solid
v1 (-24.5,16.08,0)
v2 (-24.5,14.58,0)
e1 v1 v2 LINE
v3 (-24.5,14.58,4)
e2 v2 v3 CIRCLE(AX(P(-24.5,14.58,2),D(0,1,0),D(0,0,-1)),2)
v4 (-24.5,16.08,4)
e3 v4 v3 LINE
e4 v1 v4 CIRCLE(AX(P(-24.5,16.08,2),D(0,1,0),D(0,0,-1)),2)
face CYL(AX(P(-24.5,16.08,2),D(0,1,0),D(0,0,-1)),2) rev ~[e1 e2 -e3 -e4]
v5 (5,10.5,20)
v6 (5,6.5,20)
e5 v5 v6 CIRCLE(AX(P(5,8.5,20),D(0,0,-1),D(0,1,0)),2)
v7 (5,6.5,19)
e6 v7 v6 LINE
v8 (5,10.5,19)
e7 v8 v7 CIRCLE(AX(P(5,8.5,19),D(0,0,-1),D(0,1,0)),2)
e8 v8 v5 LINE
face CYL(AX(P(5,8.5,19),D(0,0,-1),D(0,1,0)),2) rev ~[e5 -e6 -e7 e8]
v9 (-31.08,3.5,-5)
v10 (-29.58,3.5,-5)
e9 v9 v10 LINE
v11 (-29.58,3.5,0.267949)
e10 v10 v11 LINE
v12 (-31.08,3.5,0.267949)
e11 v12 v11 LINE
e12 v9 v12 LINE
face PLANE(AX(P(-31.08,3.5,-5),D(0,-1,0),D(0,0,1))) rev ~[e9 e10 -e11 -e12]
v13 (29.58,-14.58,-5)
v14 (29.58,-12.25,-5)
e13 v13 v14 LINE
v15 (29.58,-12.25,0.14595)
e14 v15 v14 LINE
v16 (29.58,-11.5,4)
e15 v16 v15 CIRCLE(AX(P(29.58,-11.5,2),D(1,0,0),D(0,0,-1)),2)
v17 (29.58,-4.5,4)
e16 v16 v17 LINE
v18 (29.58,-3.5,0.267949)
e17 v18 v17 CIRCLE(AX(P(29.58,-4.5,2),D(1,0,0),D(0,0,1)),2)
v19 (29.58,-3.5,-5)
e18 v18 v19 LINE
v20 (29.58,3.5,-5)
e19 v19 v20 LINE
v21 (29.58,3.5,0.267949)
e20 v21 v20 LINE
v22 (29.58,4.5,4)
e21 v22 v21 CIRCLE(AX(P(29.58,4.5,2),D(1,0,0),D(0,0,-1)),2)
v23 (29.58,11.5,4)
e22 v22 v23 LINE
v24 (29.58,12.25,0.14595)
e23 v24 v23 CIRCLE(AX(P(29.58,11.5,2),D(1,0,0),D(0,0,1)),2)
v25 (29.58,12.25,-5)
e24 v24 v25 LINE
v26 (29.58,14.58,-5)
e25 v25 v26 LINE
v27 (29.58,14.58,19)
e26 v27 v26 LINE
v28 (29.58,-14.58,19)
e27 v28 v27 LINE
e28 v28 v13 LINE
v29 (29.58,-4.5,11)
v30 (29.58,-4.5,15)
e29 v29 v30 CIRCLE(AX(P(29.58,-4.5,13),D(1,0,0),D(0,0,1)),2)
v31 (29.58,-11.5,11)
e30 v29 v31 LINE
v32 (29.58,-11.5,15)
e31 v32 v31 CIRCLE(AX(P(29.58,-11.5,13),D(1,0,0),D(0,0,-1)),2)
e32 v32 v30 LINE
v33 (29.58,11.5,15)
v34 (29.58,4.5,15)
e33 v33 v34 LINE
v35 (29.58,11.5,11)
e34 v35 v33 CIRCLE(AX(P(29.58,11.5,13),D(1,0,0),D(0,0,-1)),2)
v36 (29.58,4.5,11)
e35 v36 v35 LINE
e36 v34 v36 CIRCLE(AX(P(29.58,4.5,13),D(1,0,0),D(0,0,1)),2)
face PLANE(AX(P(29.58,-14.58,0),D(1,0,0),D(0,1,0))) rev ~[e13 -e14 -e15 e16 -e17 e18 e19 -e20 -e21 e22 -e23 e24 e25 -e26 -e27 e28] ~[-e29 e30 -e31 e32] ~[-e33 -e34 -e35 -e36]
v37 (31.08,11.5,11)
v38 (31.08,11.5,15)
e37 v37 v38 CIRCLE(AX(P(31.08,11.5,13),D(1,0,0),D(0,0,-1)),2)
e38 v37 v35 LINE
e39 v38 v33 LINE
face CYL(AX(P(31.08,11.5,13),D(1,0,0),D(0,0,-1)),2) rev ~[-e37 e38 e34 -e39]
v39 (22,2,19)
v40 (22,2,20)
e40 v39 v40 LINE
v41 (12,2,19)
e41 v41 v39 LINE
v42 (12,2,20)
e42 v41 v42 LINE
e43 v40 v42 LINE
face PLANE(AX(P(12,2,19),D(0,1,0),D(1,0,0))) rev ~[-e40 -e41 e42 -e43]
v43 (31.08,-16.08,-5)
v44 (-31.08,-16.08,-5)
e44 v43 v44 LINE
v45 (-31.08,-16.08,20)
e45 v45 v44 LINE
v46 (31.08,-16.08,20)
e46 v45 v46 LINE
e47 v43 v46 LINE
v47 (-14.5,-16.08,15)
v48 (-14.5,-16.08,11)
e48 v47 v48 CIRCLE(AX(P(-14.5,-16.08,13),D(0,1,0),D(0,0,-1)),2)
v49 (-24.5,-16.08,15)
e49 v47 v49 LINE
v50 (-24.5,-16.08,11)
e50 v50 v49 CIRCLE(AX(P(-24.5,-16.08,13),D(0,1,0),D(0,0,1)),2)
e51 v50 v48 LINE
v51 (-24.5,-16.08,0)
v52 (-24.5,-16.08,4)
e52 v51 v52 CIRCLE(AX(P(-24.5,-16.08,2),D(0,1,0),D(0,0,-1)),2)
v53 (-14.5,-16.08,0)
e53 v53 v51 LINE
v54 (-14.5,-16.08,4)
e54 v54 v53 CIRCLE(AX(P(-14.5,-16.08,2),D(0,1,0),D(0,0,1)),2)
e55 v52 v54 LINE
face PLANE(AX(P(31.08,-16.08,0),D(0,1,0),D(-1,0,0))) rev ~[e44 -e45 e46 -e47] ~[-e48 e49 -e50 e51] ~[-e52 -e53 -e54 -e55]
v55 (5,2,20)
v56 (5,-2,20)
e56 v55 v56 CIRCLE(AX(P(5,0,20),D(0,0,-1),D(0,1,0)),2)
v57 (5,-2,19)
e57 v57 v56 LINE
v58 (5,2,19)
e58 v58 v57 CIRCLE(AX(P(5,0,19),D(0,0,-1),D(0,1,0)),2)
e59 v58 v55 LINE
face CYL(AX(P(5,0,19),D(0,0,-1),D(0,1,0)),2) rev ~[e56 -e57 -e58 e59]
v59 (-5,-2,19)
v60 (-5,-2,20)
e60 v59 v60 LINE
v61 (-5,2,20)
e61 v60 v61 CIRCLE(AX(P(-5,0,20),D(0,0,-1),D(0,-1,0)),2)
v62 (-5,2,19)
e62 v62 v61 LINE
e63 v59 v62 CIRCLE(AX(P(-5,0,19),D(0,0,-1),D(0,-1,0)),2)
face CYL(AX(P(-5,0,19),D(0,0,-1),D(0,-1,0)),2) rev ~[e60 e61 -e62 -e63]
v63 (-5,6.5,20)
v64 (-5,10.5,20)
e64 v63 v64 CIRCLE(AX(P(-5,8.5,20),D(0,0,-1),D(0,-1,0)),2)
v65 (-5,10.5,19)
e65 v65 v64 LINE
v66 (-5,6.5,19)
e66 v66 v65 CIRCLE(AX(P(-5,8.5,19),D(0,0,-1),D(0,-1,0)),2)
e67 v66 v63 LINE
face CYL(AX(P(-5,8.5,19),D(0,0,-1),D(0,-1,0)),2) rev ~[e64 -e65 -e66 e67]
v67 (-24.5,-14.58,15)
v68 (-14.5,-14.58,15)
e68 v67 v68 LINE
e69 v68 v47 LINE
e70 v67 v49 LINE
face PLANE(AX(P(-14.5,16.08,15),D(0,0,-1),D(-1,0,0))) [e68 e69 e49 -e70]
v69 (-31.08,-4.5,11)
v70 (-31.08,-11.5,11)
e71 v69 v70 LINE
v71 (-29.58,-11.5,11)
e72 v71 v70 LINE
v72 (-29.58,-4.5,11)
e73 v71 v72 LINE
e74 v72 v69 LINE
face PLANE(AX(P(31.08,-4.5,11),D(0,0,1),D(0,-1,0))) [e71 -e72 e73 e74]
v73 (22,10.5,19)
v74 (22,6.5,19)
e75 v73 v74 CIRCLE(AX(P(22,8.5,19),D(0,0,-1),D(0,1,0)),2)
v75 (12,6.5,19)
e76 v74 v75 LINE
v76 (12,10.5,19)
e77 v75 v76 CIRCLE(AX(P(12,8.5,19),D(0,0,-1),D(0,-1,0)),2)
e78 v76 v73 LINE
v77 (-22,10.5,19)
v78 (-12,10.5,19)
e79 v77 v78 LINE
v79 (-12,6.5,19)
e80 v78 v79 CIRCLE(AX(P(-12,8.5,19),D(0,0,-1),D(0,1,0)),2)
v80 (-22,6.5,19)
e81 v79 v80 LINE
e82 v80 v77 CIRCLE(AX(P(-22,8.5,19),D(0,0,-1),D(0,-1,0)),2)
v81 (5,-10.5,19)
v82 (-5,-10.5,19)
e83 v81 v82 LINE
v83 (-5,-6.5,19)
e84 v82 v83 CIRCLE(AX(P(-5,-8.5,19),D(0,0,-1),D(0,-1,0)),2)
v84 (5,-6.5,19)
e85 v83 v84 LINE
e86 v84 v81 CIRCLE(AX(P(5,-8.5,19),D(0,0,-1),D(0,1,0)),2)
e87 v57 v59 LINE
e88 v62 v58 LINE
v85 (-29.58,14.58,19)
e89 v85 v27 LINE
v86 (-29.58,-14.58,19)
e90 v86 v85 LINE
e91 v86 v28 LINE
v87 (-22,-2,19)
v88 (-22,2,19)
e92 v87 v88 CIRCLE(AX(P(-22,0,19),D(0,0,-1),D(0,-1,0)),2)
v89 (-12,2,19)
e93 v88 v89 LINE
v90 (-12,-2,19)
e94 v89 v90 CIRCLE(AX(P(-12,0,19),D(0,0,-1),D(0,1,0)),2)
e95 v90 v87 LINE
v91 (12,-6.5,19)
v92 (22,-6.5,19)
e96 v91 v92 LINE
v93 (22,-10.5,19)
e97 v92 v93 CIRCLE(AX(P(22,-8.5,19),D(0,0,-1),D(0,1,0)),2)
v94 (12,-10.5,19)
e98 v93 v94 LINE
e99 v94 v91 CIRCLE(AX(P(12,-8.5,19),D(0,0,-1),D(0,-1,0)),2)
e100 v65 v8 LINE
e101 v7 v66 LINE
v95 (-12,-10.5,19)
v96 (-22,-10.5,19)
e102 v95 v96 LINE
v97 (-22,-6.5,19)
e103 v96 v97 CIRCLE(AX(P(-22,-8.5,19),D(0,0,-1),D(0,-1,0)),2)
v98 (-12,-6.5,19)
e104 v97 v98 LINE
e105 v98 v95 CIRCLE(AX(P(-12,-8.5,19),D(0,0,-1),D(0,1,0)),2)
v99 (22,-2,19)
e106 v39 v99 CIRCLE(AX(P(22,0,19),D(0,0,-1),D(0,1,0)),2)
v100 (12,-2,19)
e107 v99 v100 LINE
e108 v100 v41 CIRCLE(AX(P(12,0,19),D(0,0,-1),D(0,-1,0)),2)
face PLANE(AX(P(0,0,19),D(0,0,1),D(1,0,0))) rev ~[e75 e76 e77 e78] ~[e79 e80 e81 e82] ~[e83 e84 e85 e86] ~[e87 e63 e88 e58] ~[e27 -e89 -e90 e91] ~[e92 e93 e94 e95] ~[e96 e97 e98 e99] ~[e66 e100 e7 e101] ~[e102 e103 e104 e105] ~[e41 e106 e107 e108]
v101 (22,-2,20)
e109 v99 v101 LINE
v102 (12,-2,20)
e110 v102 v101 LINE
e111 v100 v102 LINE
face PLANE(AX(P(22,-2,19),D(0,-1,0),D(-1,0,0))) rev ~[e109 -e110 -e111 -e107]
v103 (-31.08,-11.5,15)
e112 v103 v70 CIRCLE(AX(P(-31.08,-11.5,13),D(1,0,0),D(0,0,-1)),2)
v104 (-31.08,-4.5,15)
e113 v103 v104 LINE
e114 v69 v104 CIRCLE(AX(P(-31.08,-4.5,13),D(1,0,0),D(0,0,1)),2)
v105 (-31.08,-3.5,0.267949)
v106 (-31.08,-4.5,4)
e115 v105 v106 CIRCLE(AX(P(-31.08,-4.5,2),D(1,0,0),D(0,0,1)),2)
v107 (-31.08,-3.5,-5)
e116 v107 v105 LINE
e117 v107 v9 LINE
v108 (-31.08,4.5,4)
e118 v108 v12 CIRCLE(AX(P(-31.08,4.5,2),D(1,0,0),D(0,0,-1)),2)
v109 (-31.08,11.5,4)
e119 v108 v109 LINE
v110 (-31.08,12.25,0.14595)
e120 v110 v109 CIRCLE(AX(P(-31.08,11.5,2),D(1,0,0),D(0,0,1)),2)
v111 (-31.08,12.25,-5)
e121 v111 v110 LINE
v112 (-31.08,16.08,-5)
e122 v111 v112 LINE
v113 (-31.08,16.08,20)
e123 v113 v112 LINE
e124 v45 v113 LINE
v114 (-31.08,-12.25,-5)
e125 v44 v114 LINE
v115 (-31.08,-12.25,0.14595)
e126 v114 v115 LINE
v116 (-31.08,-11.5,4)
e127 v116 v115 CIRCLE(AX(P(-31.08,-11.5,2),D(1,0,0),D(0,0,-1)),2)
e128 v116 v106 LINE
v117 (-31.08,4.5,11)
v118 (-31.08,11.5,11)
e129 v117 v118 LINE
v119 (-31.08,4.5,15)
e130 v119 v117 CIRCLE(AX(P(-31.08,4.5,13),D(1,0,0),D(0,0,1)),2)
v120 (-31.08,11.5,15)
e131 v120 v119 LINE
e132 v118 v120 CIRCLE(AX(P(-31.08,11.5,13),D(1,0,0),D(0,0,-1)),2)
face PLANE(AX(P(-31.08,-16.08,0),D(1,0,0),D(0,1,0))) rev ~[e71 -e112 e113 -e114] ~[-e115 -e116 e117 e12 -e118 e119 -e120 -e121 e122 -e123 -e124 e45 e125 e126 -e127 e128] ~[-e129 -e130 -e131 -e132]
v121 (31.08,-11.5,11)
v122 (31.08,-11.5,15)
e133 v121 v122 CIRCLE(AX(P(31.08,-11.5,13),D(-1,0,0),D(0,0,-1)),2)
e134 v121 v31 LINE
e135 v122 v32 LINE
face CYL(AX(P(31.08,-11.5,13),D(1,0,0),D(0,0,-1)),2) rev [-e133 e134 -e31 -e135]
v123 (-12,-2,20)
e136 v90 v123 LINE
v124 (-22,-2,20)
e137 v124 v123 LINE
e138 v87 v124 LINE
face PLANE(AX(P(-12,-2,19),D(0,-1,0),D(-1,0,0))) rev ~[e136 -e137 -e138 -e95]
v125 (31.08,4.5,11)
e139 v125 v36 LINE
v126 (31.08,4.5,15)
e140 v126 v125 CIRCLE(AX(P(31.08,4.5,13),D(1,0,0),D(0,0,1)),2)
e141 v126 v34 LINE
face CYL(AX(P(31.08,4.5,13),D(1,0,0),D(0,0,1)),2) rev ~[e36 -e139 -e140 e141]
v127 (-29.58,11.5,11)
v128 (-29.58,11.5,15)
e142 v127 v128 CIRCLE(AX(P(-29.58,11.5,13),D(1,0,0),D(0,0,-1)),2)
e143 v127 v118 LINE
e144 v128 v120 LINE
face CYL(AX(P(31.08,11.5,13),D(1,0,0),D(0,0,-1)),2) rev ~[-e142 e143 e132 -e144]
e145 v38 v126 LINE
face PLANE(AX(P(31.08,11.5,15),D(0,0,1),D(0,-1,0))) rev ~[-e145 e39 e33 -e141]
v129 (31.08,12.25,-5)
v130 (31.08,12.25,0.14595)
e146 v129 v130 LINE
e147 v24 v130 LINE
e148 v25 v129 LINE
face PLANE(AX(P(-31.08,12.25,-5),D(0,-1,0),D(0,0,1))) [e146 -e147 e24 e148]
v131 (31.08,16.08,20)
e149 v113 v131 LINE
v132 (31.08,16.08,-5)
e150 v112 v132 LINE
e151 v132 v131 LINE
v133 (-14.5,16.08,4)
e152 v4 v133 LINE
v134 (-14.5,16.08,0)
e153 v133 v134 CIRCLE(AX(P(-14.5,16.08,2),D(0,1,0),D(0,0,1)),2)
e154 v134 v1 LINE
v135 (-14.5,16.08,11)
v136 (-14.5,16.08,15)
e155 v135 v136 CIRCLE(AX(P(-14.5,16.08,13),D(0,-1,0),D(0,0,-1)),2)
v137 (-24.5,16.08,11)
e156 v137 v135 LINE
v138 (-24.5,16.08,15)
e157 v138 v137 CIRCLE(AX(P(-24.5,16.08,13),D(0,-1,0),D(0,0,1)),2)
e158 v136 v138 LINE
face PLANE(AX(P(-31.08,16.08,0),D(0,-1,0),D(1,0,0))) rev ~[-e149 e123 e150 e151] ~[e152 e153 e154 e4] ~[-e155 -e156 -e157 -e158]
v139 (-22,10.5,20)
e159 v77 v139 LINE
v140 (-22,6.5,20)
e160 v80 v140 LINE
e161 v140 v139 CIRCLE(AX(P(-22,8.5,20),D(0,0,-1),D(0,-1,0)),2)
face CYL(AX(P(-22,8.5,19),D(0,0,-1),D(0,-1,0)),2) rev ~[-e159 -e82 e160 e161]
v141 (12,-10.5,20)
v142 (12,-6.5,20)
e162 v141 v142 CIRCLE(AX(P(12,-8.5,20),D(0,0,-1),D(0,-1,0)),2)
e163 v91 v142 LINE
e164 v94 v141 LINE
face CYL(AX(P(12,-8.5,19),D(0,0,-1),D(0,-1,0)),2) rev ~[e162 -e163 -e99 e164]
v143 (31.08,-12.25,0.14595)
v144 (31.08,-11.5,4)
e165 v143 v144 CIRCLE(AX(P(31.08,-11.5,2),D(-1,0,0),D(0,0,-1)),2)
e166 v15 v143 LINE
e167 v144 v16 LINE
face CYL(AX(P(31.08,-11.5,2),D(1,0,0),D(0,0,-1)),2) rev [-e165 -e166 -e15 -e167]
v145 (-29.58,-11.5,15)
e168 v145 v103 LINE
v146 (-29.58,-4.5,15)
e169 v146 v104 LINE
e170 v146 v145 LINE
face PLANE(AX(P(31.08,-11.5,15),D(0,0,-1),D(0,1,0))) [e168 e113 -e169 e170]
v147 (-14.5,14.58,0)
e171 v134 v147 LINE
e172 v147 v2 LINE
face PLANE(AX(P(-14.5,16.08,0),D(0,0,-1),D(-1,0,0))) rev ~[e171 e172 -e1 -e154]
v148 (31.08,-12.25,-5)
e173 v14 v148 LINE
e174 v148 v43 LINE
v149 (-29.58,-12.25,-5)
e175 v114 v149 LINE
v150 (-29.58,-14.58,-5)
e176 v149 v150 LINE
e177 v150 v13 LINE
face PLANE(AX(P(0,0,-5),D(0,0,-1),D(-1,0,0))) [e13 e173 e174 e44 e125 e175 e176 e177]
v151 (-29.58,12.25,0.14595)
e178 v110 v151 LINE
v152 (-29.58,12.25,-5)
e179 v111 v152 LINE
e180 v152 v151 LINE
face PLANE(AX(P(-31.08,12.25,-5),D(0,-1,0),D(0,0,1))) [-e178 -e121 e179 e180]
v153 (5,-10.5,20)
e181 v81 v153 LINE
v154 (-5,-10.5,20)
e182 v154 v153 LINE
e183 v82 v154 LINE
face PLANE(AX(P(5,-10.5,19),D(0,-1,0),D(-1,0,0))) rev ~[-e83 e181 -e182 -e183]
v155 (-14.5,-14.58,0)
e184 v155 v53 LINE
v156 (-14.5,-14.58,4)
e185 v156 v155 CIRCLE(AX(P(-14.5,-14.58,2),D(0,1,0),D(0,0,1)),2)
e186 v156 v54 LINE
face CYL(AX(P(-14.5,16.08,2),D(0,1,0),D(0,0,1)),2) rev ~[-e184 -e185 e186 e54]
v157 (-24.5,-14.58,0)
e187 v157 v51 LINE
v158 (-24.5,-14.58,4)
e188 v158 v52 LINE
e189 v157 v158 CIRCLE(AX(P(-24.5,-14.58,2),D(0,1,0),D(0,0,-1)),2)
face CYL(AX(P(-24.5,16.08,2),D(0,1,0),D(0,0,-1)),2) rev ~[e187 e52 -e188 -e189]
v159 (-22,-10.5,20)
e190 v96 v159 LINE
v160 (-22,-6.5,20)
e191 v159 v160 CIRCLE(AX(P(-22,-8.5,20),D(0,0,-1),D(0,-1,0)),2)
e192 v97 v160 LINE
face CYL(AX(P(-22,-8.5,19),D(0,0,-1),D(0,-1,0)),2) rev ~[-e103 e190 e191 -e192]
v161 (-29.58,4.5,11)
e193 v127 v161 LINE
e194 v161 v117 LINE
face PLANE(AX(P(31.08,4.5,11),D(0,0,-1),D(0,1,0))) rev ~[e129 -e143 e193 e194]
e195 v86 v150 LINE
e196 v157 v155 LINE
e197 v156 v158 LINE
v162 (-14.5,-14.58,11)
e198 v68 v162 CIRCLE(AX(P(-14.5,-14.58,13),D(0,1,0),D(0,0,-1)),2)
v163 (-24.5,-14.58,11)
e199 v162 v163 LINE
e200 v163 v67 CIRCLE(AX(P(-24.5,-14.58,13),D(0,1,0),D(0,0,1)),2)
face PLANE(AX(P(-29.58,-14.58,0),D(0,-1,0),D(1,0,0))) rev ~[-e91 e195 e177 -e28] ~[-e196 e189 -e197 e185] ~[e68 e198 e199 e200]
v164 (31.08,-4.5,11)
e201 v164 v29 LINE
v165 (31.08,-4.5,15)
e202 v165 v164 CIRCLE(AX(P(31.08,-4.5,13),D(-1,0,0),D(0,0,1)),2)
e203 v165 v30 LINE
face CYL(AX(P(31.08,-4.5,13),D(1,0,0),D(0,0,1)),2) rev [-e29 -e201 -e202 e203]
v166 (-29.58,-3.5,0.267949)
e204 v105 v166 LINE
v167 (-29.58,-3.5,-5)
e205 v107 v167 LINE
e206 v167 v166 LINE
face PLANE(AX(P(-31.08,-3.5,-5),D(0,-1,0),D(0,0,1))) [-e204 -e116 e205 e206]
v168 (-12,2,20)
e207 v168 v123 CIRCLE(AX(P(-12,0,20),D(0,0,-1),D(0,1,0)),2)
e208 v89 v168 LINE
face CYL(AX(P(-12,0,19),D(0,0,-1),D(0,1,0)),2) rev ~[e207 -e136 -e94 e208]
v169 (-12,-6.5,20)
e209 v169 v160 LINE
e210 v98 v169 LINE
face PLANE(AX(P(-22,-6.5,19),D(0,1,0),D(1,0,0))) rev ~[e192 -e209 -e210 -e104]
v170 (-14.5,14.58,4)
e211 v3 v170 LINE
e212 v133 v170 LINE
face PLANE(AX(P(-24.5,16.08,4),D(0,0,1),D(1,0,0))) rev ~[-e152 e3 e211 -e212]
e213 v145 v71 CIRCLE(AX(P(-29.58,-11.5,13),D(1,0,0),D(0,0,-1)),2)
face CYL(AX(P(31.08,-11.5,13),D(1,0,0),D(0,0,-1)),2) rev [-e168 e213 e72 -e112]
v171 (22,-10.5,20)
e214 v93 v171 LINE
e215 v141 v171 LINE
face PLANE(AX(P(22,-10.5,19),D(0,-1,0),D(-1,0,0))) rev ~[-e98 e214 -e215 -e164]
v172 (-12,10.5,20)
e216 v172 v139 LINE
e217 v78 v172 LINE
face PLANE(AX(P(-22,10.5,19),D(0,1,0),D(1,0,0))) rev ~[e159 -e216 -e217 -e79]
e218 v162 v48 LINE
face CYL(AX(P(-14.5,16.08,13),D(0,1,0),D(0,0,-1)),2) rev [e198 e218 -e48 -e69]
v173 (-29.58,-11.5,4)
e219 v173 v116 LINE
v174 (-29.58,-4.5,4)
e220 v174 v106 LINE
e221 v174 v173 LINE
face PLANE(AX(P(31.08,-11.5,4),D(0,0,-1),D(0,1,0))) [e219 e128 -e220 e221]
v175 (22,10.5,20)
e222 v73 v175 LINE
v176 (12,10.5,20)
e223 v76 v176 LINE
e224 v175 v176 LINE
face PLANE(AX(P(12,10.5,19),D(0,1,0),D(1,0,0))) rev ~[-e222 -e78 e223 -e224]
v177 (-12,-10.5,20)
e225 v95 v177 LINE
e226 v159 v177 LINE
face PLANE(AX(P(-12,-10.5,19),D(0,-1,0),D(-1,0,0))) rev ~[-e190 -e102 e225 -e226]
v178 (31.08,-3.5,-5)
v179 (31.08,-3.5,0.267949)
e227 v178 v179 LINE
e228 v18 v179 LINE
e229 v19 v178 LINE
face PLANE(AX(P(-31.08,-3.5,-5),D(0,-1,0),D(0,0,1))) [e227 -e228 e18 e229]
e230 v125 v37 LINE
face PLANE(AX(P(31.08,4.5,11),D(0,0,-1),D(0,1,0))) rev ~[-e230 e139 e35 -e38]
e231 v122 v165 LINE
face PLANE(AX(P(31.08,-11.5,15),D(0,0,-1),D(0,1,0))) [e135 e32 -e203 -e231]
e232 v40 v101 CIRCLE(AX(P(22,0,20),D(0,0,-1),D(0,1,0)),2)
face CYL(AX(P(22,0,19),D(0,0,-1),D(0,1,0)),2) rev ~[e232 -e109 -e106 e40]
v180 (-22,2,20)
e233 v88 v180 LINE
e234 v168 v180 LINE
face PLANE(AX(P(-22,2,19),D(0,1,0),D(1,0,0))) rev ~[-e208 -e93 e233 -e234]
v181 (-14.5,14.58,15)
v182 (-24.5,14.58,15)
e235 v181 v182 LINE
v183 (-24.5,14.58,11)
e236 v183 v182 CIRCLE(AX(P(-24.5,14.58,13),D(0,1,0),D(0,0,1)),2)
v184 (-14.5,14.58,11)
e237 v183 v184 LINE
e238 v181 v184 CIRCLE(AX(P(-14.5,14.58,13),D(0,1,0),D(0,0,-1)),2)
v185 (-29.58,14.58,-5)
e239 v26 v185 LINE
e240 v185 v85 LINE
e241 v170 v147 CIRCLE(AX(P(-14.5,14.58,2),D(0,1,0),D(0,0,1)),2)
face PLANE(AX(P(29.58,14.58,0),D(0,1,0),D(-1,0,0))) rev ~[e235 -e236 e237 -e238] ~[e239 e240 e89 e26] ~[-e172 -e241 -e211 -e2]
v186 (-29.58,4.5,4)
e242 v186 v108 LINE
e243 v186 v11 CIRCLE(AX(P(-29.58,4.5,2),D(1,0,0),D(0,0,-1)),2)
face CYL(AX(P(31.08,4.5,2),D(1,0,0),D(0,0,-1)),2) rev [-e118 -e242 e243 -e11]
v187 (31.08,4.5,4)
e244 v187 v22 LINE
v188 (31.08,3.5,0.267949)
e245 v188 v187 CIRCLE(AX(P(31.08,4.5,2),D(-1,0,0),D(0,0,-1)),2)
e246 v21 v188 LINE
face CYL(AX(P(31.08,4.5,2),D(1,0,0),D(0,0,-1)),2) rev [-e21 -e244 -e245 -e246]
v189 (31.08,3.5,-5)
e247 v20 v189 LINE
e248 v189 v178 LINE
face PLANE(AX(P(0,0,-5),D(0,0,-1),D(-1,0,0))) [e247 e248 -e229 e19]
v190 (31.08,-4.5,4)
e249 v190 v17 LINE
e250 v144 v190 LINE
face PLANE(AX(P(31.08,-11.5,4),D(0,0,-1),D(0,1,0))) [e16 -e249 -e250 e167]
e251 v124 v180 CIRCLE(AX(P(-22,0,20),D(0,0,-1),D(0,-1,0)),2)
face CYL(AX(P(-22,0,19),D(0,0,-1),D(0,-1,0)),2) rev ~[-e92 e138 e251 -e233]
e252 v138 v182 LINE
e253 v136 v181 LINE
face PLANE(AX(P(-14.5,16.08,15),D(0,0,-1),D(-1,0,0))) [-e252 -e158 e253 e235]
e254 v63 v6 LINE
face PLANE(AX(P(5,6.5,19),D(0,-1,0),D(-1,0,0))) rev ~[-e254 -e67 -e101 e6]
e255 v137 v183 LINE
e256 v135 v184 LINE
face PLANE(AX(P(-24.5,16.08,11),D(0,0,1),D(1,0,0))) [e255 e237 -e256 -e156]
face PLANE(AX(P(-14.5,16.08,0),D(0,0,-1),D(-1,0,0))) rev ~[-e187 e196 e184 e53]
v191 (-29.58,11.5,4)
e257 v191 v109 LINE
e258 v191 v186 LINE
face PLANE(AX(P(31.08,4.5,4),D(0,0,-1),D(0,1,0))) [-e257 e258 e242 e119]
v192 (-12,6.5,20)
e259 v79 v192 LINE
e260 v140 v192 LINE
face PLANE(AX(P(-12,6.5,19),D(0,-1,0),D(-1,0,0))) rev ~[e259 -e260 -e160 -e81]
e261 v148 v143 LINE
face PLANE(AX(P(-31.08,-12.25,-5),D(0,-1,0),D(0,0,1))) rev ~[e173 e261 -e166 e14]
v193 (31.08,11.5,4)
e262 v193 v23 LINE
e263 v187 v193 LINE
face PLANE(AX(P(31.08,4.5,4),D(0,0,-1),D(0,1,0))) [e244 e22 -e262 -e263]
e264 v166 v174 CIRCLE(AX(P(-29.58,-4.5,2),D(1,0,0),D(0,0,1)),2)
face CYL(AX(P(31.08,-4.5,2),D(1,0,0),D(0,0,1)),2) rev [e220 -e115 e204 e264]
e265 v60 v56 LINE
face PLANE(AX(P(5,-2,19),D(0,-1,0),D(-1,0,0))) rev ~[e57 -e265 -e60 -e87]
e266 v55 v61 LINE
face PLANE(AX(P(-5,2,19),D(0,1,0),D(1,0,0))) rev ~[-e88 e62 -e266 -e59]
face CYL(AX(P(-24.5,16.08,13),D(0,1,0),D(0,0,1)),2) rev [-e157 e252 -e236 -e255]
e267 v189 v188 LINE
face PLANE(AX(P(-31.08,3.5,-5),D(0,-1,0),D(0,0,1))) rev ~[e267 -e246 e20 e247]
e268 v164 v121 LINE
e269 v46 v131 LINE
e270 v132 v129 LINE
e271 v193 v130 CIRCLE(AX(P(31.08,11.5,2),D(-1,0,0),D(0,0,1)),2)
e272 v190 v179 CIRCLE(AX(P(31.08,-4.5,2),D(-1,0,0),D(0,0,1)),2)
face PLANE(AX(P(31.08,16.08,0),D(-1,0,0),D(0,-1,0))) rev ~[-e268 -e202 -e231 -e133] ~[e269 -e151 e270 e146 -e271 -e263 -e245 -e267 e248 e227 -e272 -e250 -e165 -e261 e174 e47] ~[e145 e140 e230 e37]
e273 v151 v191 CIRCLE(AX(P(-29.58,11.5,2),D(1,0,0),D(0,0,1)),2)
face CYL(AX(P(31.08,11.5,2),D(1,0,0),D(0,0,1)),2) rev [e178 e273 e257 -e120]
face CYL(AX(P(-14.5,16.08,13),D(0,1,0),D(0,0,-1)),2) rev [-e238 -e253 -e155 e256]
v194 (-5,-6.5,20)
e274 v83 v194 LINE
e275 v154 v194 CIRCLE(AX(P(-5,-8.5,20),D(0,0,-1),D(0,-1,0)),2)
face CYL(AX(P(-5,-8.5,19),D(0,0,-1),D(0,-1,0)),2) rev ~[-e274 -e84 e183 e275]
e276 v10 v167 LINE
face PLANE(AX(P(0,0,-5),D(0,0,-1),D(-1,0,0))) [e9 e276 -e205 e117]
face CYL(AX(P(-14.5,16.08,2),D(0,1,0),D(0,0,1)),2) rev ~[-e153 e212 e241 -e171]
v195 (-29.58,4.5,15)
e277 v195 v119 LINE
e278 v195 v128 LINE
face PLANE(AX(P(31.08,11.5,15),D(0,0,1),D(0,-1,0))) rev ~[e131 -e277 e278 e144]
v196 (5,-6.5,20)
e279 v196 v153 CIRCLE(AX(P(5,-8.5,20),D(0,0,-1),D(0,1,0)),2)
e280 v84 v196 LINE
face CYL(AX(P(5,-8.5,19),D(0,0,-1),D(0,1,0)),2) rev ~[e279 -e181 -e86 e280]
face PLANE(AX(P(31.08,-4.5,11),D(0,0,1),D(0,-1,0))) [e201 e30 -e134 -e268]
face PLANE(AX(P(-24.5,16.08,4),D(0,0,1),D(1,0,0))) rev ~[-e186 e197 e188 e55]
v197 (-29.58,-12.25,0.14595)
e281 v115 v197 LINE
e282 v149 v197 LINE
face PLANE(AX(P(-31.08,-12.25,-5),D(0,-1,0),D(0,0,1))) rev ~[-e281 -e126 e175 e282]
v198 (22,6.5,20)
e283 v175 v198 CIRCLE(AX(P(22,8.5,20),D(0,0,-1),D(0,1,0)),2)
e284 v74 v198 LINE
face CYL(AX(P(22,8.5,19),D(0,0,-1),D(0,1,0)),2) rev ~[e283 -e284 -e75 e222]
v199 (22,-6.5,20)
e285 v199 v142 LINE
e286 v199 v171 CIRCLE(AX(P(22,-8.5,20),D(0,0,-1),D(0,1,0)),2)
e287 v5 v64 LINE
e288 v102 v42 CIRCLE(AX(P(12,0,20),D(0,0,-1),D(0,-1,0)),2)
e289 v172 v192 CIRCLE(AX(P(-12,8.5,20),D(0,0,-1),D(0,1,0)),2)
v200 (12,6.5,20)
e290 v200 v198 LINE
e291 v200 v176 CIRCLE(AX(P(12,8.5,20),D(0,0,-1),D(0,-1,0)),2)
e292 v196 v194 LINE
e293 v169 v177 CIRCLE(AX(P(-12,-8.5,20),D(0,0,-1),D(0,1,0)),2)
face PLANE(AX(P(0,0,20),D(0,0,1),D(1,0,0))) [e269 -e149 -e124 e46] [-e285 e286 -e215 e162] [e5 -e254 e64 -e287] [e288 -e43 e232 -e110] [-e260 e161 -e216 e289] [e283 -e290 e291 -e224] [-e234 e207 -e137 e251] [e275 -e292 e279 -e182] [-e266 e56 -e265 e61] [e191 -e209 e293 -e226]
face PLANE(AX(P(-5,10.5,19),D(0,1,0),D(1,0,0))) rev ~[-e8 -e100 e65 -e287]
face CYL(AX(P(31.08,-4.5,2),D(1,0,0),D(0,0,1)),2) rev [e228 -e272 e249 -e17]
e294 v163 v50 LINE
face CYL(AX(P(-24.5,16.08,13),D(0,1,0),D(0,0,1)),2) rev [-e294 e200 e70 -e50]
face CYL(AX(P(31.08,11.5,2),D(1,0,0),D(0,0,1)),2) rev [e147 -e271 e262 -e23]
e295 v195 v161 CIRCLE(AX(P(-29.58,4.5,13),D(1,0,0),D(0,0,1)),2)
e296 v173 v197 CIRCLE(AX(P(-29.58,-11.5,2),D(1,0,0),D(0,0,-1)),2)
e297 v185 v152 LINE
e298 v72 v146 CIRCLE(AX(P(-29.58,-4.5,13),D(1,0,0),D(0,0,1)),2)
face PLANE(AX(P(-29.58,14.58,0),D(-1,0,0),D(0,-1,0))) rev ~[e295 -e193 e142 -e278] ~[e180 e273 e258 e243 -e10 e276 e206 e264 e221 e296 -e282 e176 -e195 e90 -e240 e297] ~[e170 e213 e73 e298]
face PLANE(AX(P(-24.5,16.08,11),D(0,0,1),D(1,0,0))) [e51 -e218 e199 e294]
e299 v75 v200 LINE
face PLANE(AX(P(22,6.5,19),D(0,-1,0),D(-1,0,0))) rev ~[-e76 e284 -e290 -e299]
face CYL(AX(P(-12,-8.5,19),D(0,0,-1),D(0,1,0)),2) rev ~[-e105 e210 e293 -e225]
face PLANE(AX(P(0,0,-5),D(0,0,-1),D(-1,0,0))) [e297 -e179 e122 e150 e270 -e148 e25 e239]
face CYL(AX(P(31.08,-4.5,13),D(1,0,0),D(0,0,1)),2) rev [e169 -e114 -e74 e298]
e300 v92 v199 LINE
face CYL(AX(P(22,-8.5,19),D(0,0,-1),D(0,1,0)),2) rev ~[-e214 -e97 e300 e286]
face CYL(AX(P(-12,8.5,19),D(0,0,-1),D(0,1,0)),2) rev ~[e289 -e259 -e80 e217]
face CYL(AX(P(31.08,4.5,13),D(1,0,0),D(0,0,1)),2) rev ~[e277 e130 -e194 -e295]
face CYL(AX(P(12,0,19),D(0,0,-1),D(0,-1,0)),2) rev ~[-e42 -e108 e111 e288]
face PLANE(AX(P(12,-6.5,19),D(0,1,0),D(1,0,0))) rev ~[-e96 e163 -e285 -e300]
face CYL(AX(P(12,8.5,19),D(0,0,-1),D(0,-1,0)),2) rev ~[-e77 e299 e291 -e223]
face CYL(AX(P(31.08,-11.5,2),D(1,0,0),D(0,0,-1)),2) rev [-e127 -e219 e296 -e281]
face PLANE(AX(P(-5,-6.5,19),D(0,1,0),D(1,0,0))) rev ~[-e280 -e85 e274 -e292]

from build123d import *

# Parameters (mm, degrees)
SKETCH1_W           = 62.16
SKETCH1_H           = 32.16
SKETCH1_W_2         = 59.16
SKETCH1_H_2         = 29.16
BOSS_EXTRUDE1_DEPTH = 19
SKETCH2_W           = 62.16
SKETCH2_H           = 32.16
BOSS_EXTRUDE2_DEPTH = 1
BOSS_EXTRUDE3_DEPTH = 5
CUT_EXTRUDE4_DEPTH  = 2
CUT_EXTRUDE2_DEPTH  = 33.16
CUT_EXTRUDE3_DEPTH  = 63.16
SKETCH9_W           = 7
SKETCH9_H           = 8.75
CUT_EXTRUDE5_DEPTH  = 63.16


with BuildPart() as part:
    # Sketch1 → Boss-Extrude1 (new body)
    with BuildSketch(Plane.XY):
        Rectangle(SKETCH1_W, SKETCH1_H)
        Rectangle(SKETCH1_W_2, SKETCH1_H_2, mode=Mode.SUBTRACT)
    extrude(amount=BOSS_EXTRUDE1_DEPTH)

    # Sketch2 → Boss-Extrude2 (add)
    with BuildSketch(Plane.XY.offset(19)):
        Rectangle(SKETCH2_W, SKETCH2_H)
    extrude(amount=BOSS_EXTRUDE2_DEPTH)

    # Sketch3 → Boss-Extrude3 (add)
    with BuildSketch(Plane(origin=(0, 0, 0), x_dir=(-1, 0, 0), z_dir=(0, 0, -1))):
        Polygon((-31.08, -16.08), (31.08, -16.08), (31.08, 16.08), (9, 16.08), (-9, 16.08), (-31.08, 16.08), align=None)
        Polygon((29.58, -14.58), (-29.58, -14.58), (-29.58, 14.58), (-9, 14.58), (9, 14.58), (29.58, 14.58), align=None, mode=Mode.SUBTRACT)
    extrude(amount=BOSS_EXTRUDE3_DEPTH)

    # Sketch8 → Cut-Extrude4 (cut, through all)
    with BuildSketch(Plane(origin=(0, 0, 19), x_dir=(-1, 0, 0), z_dir=(0, 0, -1))):
        with BuildLine():
            Line((12, 6.5), (22, 6.5))
            ThreePointArc((22, 6.5), (24, 8.5), (22, 10.5))
            Line((22, 10.5), (12, 10.5))
            ThreePointArc((12, 10.5), (10, 8.5), (12, 6.5))
        make_face()
        with BuildLine():
            Line((12, -2), (22, -2))
            ThreePointArc((22, -2), (24, 0), (22, 2))
            Line((22, 2), (12, 2))
            ThreePointArc((12, 2), (10, 0), (12, -2))
        make_face()
        with BuildLine():
            Line((12, -10.5), (22, -10.5))
            ThreePointArc((22, -10.5), (24, -8.5), (22, -6.5))
            Line((22, -6.5), (12, -6.5))
            ThreePointArc((12, -6.5), (10, -8.5), (12, -10.5))
        make_face()
        with BuildLine():
            Line((-5, -10.5), (5, -10.5))
            ThreePointArc((5, -10.5), (7, -8.5), (5, -6.5))
            Line((5, -6.5), (-5, -6.5))
            ThreePointArc((-5, -6.5), (-7, -8.5), (-5, -10.5))
        make_face()
        with BuildLine():
            Line((-22, -10.5), (-12, -10.5))
            ThreePointArc((-12, -10.5), (-10, -8.5), (-12, -6.5))
            Line((-12, -6.5), (-22, -6.5))
            ThreePointArc((-22, -6.5), (-24, -8.5), (-22, -10.5))
        make_face()
        with BuildLine():
            Line((-22, -2), (-12, -2))
            ThreePointArc((-12, -2), (-10, 0), (-12, 2))
            Line((-12, 2), (-22, 2))
            ThreePointArc((-22, 2), (-24, 0), (-22, -2))
        make_face()
        with BuildLine():
            Line((-5, 6.5), (5, 6.5))
            ThreePointArc((5, 6.5), (7, 8.5), (5, 10.5))
            Line((5, 10.5), (-5, 10.5))
            ThreePointArc((-5, 10.5), (-7, 8.5), (-5, 6.5))
        make_face()
        with BuildLine():
            Line((-22, 6.5), (-12, 6.5))
            ThreePointArc((-12, 6.5), (-10, 8.5), (-12, 10.5))
            Line((-12, 10.5), (-22, 10.5))
            ThreePointArc((-22, 10.5), (-24, 8.5), (-22, 6.5))
        make_face()
        with BuildLine():
            Line((-5, -2), (5, -2))
            ThreePointArc((5, -2), (7, 0), (5, 2))
            Line((5, 2), (-5, 2))
            ThreePointArc((-5, 2), (-7, 0), (-5, -2))
        make_face()
    extrude(amount=-CUT_EXTRUDE4_DEPTH, mode=Mode.SUBTRACT)

    # Sketch5 → Cut-Extrude2 (cut, through all)
    with BuildSketch(Plane(origin=(-15, 16.08, 0), x_dir=(1, 0, 0), z_dir=(0, -1, 0))):
        with BuildLine():
            Line((-9.5, 4), (0.5, 4))
            ThreePointArc((0.5, 4), (2.5, 2), (0.5, 0))
            Line((0.5, 0), (-9.5, 0))
            ThreePointArc((-9.5, 0), (-11.5, 2), (-9.5, 4))
        make_face()
        with BuildLine():
            Line((10, -32.734958022), (20, -32.734958022))
            ThreePointArc((20, -32.734958022), (22, -30.734958022), (20, -28.734958022))
            Line((20, -28.734958022), (10, -28.734958022))
            ThreePointArc((10, -28.734958022), (8, -30.734958022), (10, -32.734958022))
        make_face()
        with BuildLine():
            Line((29.5, -65.469916045), (39.5, -65.469916045))
            ThreePointArc((39.5, -65.469916045), (41.5, -63.469916045), (39.5, -61.469916045))
            Line((39.5, -61.469916045), (29.5, -61.469916045))
            ThreePointArc((29.5, -61.469916045), (27.5, -63.469916045), (29.5, -65.469916045))
        make_face()
        with BuildLine():
            Line((10, -21.734958022), (20, -21.734958022))
            ThreePointArc((20, -21.734958022), (22, -19.734958022), (20, -17.734958022))
            Line((20, -17.734958022), (10, -17.734958022))
            ThreePointArc((10, -17.734958022), (8, -19.734958022), (10, -21.734958022))
        make_face()
        with BuildLine():
            Line((29.5, -54.469916045), (39.5, -54.469916045))
            ThreePointArc((39.5, -54.469916045), (41.5, -52.469916045), (39.5, -50.469916045))
            Line((39.5, -50.469916045), (29.5, -50.469916045))
            ThreePointArc((29.5, -50.469916045), (27.5, -52.469916045), (29.5, -54.469916045))
        make_face()
        with BuildLine():
            Line((-9.5, 11), (0.5, 11))
            ThreePointArc((0.5, 11), (2.5, 13), (0.5, 15))
            Line((0.5, 15), (-9.5, 15))
            ThreePointArc((-9.5, 15), (-11.5, 13), (-9.5, 11))
        make_face()
    extrude(amount=CUT_EXTRUDE2_DEPTH, mode=Mode.SUBTRACT)

    # Sketch7 → Cut-Extrude3 (cut, through all)
    with BuildSketch(Plane(origin=(31.08, -15, 0), x_dir=(0, 0, -1), z_dir=(-1, 0, 0))):
        with BuildLine():
            Line((-15, -26.5), (-15, -19.5))
            ThreePointArc((-15, -19.5), (-13, -17.5), (-11, -19.5))
            Line((-11, -19.5), (-11, -26.5))
            ThreePointArc((-11, -26.5), (-13, -28.5), (-15, -26.5))
        make_face()
        with BuildLine():
            Line((0, -26.5), (0, -19.5))
            ThreePointArc((0, -19.5), (-2, -17.5), (-4, -19.5))
            Line((-4, -19.5), (-4, -26.5))
            ThreePointArc((-4, -26.5), (-2, -28.5), (0, -26.5))
        make_face()
        with BuildLine():
            Line((0, -10.5), (0, -3.5))
            ThreePointArc((0, -3.5), (-2, -1.5), (-4, -3.5))
            Line((-4, -3.5), (-4, -10.5))
            ThreePointArc((-4, -10.5), (-2, -12.5), (0, -10.5))
        make_face()
        with BuildLine():
            Line((-11, -10.5), (-11, -3.5))
            ThreePointArc((-11, -3.5), (-13, -1.5), (-15, -3.5))
            Line((-15, -3.5), (-15, -10.5))
            ThreePointArc((-15, -10.5), (-13, -12.5), (-11, -10.5))
        make_face()
    extrude(amount=CUT_EXTRUDE3_DEPTH, mode=Mode.SUBTRACT)

    # Sketch9 → Cut-Extrude5 (cut, through all)
    with BuildSketch(Plane.ZY.offset(31.08)):
        with Locations((-1.5, 7.875)):
            Rectangle(SKETCH9_W, SKETCH9_H)
        with Locations((-1.5, -7.875)):
            Rectangle(SKETCH9_W, SKETCH9_H)
    extrude(amount=-CUT_EXTRUDE5_DEPTH, mode=Mode.SUBTRACT)


solid = part.part
